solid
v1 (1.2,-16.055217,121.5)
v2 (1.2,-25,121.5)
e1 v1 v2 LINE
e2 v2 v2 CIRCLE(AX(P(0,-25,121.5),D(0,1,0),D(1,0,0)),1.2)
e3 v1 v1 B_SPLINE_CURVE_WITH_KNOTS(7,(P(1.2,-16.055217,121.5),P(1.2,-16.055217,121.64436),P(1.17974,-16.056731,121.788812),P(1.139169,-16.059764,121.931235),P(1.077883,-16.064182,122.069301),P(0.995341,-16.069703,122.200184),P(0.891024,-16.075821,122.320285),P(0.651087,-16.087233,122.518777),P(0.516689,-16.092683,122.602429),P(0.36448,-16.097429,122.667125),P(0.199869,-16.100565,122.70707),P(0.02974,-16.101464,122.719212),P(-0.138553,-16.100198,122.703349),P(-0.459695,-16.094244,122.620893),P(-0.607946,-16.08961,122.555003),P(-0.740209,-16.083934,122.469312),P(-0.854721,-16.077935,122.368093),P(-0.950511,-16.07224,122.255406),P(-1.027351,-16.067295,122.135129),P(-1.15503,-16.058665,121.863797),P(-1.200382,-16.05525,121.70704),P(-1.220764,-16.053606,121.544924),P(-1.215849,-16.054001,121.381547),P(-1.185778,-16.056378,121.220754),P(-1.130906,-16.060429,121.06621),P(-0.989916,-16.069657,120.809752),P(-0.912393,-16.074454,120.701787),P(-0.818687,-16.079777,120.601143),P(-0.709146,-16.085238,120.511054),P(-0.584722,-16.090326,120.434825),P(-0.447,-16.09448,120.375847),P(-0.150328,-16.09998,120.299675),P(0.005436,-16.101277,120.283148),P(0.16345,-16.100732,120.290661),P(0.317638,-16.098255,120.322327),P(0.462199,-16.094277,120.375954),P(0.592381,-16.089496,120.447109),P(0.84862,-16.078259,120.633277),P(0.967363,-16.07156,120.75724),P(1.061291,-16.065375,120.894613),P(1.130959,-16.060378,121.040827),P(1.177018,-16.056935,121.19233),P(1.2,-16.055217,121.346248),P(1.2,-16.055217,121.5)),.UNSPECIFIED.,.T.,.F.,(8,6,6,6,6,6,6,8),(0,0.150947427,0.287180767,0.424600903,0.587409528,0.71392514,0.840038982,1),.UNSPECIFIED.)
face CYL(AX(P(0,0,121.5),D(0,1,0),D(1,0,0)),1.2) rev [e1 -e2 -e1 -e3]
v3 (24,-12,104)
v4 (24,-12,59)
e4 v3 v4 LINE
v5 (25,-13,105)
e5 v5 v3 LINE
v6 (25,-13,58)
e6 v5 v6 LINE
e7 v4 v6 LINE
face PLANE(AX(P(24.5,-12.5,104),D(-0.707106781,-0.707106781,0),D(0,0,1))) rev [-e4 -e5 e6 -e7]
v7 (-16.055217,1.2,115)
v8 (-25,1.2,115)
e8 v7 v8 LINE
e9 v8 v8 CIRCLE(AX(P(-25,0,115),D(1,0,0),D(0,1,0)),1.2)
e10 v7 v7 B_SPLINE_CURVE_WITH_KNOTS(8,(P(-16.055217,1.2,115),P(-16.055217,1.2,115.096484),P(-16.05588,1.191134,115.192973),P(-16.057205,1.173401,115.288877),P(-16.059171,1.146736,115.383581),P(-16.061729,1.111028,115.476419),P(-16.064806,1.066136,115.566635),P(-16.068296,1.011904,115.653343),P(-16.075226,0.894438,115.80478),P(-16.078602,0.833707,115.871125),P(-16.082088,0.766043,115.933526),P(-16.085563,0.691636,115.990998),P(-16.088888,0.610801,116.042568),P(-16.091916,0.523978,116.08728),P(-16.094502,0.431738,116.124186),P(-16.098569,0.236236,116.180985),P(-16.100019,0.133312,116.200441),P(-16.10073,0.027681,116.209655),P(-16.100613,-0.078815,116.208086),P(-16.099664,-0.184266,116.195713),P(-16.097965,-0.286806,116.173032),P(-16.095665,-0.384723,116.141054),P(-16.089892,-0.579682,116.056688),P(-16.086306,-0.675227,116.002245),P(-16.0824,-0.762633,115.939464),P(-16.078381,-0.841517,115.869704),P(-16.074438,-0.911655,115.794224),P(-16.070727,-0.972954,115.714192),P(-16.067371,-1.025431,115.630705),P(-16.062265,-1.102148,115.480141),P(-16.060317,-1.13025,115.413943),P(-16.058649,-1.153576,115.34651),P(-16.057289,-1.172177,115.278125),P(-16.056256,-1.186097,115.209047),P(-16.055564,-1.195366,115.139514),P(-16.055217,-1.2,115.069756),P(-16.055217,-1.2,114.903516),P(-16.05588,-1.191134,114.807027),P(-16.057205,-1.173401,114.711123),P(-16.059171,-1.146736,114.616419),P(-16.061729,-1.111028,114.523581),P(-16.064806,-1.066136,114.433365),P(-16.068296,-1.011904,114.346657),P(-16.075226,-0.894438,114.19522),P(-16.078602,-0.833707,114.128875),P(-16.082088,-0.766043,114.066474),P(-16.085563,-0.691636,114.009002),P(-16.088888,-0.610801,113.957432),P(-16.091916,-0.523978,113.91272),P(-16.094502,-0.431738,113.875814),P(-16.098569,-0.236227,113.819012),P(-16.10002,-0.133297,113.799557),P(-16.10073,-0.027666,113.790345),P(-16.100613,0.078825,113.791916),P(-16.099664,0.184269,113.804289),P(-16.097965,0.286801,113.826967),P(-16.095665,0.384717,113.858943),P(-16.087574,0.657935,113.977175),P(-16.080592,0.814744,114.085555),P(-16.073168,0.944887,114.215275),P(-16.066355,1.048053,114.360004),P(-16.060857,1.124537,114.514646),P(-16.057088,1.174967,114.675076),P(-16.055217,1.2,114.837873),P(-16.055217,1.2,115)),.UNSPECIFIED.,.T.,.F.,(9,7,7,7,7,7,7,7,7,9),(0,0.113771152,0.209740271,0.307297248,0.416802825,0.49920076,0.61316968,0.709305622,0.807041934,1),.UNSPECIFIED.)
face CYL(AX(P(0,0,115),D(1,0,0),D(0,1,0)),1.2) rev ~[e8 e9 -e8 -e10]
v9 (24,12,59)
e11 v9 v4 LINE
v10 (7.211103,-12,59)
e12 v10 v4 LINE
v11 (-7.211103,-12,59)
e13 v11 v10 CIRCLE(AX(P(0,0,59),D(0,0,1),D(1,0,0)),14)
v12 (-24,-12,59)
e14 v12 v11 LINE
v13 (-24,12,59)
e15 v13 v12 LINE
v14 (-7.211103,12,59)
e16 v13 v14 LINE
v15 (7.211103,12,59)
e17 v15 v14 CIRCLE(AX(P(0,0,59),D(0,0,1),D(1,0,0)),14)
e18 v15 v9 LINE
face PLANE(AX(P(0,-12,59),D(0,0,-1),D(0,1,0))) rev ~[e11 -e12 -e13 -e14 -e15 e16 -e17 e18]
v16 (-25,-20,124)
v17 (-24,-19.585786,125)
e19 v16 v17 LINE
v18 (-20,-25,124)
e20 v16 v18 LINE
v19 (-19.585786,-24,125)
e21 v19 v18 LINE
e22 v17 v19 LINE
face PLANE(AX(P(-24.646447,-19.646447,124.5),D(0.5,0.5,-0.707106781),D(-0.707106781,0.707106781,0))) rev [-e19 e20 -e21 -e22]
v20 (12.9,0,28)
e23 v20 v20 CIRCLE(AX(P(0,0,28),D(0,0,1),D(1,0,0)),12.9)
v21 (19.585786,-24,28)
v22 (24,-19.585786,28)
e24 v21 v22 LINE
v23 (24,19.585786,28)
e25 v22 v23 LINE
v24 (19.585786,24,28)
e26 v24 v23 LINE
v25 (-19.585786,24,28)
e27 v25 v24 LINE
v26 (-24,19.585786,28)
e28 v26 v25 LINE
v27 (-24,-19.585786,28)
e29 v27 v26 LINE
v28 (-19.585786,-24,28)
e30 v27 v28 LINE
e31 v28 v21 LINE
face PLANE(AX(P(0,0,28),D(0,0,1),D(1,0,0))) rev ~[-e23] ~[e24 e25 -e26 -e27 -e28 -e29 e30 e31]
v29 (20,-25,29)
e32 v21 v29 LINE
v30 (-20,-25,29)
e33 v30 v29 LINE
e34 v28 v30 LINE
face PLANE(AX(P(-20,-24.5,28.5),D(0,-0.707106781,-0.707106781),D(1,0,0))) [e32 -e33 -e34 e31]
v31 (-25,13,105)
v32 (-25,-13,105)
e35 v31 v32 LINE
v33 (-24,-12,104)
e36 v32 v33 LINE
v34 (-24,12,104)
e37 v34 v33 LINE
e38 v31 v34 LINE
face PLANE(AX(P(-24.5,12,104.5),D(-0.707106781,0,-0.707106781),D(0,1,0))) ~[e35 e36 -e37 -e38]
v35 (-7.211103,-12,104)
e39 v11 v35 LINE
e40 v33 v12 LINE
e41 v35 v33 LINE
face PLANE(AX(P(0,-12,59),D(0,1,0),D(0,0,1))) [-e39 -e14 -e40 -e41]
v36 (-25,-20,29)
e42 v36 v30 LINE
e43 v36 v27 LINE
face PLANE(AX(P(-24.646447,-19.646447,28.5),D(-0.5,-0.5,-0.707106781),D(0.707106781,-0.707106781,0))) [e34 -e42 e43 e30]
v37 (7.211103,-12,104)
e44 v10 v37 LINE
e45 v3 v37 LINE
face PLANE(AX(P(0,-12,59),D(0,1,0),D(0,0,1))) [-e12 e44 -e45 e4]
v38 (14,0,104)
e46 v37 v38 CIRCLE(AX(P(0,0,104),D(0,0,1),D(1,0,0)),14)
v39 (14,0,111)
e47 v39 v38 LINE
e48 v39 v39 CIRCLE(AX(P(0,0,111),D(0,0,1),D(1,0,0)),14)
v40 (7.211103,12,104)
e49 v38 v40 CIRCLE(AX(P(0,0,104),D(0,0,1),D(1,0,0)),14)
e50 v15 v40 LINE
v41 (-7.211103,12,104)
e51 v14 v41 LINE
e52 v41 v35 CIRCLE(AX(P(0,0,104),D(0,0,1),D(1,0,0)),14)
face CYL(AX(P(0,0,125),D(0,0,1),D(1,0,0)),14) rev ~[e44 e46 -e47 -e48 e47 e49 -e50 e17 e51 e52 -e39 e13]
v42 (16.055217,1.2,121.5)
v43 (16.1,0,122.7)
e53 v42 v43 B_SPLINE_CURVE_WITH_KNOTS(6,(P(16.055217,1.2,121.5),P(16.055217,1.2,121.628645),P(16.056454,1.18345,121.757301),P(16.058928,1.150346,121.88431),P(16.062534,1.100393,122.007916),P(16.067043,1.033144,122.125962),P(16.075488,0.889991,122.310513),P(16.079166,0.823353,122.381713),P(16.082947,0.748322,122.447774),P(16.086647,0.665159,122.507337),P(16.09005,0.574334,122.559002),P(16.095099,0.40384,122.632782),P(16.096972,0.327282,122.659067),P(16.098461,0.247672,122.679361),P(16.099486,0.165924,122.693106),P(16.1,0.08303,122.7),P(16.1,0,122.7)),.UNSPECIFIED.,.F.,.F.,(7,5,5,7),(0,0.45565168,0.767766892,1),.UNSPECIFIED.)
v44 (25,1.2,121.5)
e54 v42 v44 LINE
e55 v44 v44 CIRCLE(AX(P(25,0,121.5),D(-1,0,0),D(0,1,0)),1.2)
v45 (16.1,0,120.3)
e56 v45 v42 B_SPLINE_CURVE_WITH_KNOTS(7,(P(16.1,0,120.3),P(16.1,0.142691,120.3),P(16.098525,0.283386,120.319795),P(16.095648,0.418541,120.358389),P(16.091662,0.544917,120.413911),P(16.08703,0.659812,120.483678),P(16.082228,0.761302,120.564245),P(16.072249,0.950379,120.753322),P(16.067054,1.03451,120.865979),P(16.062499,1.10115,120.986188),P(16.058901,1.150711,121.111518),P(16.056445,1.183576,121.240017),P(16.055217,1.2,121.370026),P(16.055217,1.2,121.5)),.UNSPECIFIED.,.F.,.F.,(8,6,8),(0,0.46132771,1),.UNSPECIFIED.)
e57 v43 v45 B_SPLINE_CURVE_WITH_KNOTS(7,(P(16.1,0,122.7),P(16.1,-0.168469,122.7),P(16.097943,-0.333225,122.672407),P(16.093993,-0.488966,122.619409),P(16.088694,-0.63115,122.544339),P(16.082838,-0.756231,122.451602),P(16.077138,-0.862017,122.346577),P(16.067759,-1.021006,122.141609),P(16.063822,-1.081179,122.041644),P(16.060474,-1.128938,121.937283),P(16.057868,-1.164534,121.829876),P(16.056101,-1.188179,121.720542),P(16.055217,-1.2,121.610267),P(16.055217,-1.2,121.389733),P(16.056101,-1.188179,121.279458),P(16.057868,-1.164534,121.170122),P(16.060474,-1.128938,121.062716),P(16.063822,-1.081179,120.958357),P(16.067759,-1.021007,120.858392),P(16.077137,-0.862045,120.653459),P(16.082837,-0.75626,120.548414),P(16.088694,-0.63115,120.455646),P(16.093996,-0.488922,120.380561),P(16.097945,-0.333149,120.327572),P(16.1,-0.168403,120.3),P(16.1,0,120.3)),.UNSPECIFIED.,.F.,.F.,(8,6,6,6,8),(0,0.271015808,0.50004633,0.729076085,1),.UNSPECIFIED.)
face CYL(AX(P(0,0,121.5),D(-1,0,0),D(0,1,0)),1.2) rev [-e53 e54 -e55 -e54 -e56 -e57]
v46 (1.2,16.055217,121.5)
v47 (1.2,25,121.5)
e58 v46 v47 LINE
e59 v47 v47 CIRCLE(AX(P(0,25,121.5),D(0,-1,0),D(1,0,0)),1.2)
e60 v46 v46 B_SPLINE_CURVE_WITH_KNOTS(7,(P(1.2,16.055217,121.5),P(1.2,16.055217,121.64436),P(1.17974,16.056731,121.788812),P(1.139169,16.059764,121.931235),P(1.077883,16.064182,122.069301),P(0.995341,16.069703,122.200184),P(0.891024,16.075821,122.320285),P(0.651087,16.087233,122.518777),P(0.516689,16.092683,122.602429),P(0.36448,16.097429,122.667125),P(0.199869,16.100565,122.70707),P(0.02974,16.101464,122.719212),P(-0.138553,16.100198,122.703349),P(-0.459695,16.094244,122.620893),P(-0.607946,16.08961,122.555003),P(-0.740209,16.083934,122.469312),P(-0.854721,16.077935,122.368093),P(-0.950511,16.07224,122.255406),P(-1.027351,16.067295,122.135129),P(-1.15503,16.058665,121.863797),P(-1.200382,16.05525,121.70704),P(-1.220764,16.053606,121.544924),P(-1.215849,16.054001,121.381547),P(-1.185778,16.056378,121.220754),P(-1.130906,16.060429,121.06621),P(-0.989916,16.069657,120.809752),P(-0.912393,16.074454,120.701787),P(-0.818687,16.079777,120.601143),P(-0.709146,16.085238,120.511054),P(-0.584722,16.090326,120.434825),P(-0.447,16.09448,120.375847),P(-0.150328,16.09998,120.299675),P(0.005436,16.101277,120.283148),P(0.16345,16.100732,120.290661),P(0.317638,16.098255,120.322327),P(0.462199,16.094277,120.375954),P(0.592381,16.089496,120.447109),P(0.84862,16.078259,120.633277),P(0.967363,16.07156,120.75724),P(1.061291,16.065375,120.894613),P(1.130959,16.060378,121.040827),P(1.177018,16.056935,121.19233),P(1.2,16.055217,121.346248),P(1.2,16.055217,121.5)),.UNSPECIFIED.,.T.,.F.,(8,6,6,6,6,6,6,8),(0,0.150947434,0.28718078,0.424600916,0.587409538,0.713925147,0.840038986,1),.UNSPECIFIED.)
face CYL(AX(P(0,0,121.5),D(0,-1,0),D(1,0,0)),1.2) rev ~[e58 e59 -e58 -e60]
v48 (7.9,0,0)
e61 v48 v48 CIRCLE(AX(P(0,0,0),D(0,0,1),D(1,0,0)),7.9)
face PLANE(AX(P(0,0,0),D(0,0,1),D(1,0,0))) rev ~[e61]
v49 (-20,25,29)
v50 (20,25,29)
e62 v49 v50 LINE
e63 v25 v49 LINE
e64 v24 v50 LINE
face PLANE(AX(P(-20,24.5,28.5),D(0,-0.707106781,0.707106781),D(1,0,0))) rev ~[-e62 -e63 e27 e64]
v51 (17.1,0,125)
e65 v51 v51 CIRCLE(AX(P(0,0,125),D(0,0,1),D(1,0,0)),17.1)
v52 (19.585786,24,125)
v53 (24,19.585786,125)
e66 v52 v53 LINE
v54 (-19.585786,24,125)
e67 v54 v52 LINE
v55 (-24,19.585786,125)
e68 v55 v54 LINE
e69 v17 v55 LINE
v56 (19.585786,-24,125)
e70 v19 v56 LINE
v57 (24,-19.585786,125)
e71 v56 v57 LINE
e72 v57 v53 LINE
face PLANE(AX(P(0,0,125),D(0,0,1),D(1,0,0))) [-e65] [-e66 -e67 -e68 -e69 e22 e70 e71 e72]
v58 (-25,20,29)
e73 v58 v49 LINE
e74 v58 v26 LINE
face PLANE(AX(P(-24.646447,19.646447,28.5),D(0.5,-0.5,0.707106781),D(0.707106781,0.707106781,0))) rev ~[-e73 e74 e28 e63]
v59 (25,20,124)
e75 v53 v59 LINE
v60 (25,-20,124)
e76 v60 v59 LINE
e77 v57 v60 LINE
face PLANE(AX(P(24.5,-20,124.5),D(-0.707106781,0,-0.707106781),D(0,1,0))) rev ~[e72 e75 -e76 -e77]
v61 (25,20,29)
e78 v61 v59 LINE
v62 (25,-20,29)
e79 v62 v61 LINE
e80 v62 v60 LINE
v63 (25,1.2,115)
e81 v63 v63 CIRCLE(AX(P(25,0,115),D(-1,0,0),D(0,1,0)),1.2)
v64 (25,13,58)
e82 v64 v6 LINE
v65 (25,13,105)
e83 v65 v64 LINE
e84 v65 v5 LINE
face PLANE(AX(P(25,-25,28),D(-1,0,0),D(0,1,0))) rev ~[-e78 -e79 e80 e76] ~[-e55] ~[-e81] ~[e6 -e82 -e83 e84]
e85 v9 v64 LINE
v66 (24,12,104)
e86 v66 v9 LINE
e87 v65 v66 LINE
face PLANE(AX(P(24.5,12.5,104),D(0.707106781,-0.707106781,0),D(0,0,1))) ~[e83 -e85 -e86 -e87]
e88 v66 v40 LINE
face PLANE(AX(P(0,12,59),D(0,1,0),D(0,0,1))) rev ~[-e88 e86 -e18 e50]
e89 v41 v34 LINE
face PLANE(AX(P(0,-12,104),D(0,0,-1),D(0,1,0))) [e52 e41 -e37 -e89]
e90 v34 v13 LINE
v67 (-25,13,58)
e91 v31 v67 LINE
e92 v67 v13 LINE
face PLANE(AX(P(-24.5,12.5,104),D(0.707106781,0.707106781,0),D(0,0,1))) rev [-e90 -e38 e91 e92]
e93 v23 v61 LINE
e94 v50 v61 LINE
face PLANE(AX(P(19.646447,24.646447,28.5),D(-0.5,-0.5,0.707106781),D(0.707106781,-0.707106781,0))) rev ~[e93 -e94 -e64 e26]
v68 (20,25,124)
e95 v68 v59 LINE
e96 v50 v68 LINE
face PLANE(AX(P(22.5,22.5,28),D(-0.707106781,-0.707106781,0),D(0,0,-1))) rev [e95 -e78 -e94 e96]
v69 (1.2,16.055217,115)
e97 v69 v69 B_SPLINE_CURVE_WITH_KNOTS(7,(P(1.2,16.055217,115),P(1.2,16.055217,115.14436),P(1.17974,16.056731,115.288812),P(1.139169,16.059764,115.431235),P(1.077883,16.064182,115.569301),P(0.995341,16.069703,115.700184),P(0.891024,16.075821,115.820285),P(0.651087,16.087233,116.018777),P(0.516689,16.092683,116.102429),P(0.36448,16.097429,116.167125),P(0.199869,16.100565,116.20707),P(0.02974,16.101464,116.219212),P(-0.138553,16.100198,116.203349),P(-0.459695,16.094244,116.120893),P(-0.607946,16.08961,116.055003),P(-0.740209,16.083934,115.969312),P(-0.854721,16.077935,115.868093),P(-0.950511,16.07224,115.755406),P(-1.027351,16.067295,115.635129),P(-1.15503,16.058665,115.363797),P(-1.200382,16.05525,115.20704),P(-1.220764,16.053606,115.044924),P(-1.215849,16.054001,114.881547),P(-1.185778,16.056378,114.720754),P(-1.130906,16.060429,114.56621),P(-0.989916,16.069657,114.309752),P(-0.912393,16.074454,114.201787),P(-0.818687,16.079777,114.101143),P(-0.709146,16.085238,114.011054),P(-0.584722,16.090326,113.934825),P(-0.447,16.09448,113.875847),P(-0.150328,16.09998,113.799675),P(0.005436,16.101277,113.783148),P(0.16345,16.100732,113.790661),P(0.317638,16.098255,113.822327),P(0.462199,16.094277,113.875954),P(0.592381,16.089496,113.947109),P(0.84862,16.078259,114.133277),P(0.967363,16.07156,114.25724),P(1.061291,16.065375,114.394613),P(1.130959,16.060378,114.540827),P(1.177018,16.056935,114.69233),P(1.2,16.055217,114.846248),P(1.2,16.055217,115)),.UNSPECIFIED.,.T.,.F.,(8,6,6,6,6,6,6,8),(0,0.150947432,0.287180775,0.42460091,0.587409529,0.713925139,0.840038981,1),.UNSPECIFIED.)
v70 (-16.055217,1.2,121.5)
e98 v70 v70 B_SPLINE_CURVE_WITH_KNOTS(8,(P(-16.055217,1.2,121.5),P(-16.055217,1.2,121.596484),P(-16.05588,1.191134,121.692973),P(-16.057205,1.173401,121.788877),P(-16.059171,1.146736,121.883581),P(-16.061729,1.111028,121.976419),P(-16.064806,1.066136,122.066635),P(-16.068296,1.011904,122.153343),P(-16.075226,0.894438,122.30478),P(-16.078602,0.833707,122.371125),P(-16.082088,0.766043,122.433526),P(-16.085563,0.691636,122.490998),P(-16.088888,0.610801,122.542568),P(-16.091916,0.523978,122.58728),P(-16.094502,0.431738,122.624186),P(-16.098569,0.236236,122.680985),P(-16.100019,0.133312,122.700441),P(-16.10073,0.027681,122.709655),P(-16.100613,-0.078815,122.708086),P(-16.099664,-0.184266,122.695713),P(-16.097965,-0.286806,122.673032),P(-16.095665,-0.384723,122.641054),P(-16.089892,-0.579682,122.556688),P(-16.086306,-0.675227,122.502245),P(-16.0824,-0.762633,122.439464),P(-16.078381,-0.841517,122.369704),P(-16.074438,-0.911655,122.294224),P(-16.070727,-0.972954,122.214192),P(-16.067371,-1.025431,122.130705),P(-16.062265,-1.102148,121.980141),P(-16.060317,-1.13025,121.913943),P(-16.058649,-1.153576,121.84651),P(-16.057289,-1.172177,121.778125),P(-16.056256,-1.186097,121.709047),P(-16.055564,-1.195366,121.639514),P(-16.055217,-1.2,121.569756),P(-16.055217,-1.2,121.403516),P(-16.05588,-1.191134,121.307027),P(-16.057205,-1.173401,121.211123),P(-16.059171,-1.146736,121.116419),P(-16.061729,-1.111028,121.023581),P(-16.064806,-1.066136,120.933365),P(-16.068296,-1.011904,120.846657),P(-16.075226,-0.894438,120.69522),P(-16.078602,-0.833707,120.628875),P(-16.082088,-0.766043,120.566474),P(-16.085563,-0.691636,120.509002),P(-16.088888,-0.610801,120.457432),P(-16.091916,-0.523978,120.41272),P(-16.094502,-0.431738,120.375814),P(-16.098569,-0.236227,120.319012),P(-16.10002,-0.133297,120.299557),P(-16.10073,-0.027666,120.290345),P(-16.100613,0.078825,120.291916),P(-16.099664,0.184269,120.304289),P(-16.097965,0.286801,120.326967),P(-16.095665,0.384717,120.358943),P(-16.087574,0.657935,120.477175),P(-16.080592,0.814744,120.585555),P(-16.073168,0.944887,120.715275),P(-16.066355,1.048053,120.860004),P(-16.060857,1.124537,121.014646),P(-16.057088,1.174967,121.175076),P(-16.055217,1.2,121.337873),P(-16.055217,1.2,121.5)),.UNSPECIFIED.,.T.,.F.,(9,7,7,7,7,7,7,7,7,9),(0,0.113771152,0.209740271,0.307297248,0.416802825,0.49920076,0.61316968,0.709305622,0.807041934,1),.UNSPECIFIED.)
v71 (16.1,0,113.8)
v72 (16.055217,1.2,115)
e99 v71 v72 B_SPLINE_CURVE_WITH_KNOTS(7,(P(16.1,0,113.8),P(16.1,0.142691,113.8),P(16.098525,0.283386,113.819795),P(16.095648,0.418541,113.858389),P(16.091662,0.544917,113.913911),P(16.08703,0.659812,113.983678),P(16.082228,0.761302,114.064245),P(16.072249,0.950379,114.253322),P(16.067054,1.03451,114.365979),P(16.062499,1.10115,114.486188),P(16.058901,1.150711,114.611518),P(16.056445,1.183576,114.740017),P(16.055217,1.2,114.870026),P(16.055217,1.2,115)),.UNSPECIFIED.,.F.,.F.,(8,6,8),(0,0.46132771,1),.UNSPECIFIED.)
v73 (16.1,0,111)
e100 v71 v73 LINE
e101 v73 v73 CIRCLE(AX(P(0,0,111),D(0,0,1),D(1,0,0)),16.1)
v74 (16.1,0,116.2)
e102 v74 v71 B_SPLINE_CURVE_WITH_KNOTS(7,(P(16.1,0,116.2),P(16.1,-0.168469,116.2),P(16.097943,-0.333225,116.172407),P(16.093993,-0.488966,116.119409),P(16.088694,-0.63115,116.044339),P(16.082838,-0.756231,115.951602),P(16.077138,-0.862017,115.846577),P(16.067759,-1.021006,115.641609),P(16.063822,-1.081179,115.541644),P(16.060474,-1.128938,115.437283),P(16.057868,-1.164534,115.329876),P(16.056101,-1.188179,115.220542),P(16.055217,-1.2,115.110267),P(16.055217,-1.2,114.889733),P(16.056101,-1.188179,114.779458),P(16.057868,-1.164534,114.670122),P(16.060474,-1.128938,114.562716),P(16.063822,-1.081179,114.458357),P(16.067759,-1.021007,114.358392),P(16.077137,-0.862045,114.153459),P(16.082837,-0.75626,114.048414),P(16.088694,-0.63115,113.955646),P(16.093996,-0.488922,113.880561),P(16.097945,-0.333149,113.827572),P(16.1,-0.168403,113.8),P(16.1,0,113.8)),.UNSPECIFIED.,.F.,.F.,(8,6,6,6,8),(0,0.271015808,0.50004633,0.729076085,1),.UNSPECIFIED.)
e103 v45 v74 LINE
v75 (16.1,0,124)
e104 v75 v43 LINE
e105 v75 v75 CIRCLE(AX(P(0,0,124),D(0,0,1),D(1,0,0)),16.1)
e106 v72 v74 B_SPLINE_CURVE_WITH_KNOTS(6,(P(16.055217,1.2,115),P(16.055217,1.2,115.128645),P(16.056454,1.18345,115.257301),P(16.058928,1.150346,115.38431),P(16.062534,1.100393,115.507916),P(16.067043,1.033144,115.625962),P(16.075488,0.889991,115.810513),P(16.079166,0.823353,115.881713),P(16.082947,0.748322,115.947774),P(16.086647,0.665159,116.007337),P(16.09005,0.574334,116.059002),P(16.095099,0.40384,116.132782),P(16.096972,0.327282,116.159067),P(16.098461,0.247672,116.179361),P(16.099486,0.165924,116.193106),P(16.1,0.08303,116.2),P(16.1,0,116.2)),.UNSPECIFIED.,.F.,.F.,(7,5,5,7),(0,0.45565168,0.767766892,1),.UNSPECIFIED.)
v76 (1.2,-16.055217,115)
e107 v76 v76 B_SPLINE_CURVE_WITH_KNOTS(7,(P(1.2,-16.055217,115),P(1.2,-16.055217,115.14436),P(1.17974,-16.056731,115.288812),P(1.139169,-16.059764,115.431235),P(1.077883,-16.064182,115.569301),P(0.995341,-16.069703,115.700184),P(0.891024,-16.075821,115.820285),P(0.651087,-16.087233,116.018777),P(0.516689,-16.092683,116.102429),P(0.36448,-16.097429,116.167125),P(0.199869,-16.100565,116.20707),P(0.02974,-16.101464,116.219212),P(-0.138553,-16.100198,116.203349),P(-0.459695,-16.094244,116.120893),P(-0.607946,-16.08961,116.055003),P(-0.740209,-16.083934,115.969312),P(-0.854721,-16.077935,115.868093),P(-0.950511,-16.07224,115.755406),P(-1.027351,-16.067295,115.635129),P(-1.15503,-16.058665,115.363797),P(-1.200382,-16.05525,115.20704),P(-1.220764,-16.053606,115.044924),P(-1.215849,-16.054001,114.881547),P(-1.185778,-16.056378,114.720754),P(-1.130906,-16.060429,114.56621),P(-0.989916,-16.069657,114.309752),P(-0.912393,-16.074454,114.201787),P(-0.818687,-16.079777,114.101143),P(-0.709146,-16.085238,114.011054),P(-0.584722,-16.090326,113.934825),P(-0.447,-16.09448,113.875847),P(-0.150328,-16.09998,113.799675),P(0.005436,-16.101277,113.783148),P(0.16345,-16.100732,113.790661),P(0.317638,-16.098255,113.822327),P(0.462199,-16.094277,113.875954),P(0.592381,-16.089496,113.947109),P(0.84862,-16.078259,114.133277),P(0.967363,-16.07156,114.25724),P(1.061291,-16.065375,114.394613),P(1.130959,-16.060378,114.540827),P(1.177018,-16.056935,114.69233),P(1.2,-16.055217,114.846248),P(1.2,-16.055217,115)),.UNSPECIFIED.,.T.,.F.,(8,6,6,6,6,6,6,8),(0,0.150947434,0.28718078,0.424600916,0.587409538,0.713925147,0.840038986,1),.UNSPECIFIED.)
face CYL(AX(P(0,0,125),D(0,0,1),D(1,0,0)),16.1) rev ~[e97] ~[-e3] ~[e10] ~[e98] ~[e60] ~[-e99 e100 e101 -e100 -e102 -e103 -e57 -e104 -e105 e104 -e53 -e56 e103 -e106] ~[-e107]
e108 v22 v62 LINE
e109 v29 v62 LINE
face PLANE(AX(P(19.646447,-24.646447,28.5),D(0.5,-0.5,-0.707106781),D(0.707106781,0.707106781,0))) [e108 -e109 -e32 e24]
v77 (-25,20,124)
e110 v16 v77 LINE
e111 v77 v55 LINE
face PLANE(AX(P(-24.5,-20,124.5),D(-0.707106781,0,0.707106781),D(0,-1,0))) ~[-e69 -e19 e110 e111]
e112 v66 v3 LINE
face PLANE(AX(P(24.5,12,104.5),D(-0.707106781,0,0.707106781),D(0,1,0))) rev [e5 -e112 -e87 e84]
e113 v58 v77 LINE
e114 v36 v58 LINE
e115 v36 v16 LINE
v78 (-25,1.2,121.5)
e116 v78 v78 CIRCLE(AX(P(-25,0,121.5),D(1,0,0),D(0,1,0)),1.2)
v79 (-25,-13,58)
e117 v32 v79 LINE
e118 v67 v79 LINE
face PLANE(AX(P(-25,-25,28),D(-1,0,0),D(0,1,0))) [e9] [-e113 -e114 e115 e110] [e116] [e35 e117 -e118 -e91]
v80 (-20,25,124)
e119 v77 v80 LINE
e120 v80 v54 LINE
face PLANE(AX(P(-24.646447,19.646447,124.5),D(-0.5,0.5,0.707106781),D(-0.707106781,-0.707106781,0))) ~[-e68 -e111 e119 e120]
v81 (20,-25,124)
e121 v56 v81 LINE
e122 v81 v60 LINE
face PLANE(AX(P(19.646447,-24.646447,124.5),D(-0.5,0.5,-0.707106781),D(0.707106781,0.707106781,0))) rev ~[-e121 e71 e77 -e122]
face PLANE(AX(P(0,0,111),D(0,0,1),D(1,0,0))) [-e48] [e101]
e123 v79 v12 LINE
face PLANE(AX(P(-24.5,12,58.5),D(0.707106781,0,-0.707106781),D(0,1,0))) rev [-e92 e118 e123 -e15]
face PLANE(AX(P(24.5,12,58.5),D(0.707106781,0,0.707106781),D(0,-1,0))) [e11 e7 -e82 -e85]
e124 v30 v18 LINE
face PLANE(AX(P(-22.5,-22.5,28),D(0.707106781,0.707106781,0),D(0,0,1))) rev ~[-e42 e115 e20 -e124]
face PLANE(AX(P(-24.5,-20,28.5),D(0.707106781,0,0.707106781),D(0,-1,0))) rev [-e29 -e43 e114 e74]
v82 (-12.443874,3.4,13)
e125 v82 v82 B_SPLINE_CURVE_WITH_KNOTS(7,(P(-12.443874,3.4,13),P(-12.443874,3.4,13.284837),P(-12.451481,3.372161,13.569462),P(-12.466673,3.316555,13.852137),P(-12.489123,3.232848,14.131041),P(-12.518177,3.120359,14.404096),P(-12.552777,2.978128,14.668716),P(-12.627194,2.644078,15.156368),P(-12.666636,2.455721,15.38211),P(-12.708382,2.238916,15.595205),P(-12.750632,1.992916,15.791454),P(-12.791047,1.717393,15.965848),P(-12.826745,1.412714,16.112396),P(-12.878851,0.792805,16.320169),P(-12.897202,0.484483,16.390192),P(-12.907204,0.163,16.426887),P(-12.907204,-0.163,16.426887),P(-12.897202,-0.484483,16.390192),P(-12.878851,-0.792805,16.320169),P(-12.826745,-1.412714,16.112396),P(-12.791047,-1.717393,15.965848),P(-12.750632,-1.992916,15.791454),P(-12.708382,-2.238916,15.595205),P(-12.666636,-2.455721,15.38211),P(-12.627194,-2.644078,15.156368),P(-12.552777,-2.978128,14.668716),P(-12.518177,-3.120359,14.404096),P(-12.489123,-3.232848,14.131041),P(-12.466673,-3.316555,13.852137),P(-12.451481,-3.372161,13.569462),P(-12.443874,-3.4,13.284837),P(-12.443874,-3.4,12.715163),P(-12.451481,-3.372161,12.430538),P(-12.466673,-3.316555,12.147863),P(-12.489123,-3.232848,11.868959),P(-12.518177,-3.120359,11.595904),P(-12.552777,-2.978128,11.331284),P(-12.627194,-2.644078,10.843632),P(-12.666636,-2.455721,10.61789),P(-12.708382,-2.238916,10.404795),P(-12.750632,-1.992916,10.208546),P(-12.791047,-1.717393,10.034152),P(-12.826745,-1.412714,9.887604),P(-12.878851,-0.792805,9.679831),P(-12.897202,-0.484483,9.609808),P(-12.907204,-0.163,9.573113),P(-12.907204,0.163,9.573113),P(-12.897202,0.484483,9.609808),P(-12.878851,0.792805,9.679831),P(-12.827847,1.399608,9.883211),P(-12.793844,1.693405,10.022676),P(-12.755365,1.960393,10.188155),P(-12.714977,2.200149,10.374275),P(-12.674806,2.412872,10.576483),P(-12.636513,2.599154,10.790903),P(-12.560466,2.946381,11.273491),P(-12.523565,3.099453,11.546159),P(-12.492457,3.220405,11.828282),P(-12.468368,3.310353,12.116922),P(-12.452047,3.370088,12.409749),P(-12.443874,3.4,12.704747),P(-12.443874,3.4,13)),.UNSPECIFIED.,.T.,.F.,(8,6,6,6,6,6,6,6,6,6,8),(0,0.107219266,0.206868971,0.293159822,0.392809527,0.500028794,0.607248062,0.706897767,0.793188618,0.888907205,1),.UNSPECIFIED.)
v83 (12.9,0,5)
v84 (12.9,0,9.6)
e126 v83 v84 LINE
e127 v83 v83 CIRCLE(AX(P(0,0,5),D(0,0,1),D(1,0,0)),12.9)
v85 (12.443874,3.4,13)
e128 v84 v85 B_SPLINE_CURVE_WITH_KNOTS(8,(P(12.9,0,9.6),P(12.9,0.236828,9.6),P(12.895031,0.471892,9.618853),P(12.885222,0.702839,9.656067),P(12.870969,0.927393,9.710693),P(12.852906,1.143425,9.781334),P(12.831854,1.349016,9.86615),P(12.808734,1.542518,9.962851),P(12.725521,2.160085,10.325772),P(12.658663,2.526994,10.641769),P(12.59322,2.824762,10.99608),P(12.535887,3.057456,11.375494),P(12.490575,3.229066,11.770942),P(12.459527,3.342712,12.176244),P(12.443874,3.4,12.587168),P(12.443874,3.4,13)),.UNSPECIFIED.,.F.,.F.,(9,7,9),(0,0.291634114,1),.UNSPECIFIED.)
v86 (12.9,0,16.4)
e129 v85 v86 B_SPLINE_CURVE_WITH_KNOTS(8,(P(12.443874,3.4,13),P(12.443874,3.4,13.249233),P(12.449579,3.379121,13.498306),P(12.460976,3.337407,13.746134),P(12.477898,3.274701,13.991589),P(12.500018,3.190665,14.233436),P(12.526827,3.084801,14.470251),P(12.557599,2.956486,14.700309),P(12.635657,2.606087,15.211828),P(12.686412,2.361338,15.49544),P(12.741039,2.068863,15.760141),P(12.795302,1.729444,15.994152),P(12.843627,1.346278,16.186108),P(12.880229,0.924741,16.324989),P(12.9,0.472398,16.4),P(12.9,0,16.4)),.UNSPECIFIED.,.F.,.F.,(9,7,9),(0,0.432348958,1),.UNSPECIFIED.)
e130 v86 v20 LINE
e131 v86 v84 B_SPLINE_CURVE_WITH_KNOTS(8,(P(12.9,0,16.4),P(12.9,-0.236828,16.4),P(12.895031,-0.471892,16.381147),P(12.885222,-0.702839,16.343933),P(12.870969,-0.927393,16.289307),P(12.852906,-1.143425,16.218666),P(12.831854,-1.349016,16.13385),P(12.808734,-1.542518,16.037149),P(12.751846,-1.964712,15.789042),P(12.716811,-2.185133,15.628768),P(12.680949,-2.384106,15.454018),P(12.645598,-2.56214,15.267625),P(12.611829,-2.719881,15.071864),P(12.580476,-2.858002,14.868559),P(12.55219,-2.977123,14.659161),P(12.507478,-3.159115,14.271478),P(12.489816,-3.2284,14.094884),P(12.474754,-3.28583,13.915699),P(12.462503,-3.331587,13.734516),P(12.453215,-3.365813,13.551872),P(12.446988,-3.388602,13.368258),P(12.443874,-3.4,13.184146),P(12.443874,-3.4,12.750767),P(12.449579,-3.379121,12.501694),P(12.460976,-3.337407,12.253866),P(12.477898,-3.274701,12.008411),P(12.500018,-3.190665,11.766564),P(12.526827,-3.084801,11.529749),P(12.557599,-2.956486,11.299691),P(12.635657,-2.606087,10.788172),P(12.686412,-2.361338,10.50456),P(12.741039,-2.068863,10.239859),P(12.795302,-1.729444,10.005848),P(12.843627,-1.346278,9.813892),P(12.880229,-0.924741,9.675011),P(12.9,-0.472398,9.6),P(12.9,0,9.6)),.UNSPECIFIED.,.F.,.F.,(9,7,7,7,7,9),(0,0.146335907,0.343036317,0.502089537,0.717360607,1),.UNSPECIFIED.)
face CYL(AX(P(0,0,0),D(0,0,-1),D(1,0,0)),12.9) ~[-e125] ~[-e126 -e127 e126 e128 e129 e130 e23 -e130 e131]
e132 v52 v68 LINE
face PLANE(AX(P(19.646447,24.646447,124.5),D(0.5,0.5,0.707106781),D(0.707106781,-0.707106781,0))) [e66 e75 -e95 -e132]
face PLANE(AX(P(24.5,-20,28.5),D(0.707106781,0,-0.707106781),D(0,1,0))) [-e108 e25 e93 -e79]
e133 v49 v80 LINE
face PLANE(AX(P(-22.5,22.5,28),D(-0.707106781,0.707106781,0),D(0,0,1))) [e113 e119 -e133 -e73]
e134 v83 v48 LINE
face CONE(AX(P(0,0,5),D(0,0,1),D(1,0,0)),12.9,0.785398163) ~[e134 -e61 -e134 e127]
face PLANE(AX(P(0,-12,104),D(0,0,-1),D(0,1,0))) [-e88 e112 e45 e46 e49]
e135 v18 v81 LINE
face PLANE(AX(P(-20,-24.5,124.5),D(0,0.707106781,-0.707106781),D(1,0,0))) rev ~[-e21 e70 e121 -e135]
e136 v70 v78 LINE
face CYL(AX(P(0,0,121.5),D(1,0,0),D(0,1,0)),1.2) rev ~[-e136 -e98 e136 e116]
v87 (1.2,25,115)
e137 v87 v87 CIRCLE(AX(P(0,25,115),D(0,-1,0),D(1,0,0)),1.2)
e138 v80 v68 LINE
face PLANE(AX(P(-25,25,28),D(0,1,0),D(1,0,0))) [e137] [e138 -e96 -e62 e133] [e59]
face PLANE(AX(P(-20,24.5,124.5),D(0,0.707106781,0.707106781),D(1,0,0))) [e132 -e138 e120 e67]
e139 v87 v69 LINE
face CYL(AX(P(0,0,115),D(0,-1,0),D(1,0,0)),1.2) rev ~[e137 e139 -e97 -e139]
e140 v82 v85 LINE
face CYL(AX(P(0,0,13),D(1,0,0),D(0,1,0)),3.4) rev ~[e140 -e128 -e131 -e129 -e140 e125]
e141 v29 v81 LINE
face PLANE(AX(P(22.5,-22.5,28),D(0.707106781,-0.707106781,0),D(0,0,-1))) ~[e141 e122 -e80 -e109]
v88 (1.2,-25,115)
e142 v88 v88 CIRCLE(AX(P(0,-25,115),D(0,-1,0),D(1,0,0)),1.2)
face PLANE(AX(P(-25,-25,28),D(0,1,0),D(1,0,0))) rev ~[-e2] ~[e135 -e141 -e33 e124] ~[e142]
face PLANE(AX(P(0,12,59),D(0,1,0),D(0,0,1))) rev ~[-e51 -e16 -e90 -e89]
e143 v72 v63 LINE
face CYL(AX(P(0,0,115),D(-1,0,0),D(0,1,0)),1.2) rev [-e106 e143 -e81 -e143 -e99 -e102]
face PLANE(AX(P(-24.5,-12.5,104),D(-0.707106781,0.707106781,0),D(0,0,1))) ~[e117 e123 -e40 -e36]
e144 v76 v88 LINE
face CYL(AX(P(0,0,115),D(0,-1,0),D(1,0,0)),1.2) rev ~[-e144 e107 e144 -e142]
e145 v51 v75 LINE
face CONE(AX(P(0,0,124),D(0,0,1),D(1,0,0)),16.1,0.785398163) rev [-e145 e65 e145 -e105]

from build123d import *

# Parameters (mm, degrees)
F0_R      = 12.9
F1_DEPTH  = 28
F2_W      = 50
F2_H      = 50
F3_DEPTH  = 97
F4_R      = 14
F5_DEPTH  = 66
F6_R      = 16.1
F7_DEPTH  = 14
F8_R      = 3.4
F9_DEPTH  = 15
F10_R     = 1.2
F11_DEPTH = 51.4
F12_R     = 1.2
F12_W     = 24
F12_H     = 45
F13_DEPTH = 37.8
F14_SIZE  = 5
F15_SIZE  = 1


with BuildPart() as f1:
    # F0 (on Top) → F1 (new body)
    with BuildSketch(Plane.XY):
        Circle(F0_R)
    extrude(amount=F1_DEPTH)

    # F2 (on face) → F3 (join)
    with BuildSketch(Plane.XY.offset(28)):
        Rectangle(F2_W, F2_H)
    extrude(amount=F3_DEPTH)

    # F4 (on face) → F5 (cut)
    with BuildSketch(Plane.XY.offset(125)):
        Circle(F4_R)
    extrude(amount=-F5_DEPTH, mode=Mode.SUBTRACT)

    # F6 (on face) → F7 (cut)
    with BuildSketch(Plane.XY.offset(125)):
        Circle(F6_R)
    extrude(amount=-F7_DEPTH, mode=Mode.SUBTRACT)

    # F8 (on Right) → F9 (cut, symmetric)
    with BuildSketch(Plane.YZ):
        with Locations((0, 13)):
            Circle(F8_R)
    extrude(amount=F9_DEPTH, both=True, mode=Mode.SUBTRACT)

    # F10 (on Front) → F11 (cut, symmetric)
    with BuildSketch(Plane.XZ):
        with Locations((0, 121.5)):
            Circle(F10_R)
        with Locations((0, 115)):
            Circle(F10_R)
    extrude(amount=F11_DEPTH, both=True, mode=Mode.SUBTRACT)

    # F12 (on Right) → F13 (cut, symmetric)
    with BuildSketch(Plane.YZ):
        with Locations((0, 121.5)):
            Circle(F12_R)
        with Locations((0, 115)):
            Circle(F12_R)
        with Locations((0, 81.5)):
            Rectangle(F12_W, F12_H)
    extrude(amount=F13_DEPTH, both=True, mode=Mode.SUBTRACT)

    # F14
    f14_edges = [f1.edges().sort_by_distance(p)[0] for p in [
        (-12.9, 0, 0),
        (-25, 25, 76.5),
        (-25, -25, 76.5),
        (25, -25, 76.5),
        (25, 25, 76.5),
    ]]
    chamfer(f14_edges, length=F14_SIZE)

    # F15
    f15_edges = [f1.edges().sort_by_distance(p)[0] for p in [
        (-16.1, 0, 125),
        (0, -25, 125),
        (-22.5, -22.5, 125),
        (22.5, -22.5, 125),
        (-25, 0, 125),
        (25, 0, 125),
        (-22.5, 22.5, 125),
        (22.5, 22.5, 125),
        (0, 25, 125),
        (-25, 0, 28),
        (0, 25, 28),
        (-22.5, 22.5, 28),
        (0, -25, 28),
        (-22.5, -22.5, 28),
        (22.5, -22.5, 28),
        (25, 0, 28),
        (22.5, 22.5, 28),
        (-25, 0, 59),
        (-25, 12, 81.5),
        (-25, 0, 104),
        (-25, -12, 81.5),
        (25, 0, 59),
        (25, -12, 81.5),
        (25, 12, 81.5),
        (25, 0, 104),
    ]]
    chamfer(f15_edges, length=F15_SIZE)


solid = f1.part
